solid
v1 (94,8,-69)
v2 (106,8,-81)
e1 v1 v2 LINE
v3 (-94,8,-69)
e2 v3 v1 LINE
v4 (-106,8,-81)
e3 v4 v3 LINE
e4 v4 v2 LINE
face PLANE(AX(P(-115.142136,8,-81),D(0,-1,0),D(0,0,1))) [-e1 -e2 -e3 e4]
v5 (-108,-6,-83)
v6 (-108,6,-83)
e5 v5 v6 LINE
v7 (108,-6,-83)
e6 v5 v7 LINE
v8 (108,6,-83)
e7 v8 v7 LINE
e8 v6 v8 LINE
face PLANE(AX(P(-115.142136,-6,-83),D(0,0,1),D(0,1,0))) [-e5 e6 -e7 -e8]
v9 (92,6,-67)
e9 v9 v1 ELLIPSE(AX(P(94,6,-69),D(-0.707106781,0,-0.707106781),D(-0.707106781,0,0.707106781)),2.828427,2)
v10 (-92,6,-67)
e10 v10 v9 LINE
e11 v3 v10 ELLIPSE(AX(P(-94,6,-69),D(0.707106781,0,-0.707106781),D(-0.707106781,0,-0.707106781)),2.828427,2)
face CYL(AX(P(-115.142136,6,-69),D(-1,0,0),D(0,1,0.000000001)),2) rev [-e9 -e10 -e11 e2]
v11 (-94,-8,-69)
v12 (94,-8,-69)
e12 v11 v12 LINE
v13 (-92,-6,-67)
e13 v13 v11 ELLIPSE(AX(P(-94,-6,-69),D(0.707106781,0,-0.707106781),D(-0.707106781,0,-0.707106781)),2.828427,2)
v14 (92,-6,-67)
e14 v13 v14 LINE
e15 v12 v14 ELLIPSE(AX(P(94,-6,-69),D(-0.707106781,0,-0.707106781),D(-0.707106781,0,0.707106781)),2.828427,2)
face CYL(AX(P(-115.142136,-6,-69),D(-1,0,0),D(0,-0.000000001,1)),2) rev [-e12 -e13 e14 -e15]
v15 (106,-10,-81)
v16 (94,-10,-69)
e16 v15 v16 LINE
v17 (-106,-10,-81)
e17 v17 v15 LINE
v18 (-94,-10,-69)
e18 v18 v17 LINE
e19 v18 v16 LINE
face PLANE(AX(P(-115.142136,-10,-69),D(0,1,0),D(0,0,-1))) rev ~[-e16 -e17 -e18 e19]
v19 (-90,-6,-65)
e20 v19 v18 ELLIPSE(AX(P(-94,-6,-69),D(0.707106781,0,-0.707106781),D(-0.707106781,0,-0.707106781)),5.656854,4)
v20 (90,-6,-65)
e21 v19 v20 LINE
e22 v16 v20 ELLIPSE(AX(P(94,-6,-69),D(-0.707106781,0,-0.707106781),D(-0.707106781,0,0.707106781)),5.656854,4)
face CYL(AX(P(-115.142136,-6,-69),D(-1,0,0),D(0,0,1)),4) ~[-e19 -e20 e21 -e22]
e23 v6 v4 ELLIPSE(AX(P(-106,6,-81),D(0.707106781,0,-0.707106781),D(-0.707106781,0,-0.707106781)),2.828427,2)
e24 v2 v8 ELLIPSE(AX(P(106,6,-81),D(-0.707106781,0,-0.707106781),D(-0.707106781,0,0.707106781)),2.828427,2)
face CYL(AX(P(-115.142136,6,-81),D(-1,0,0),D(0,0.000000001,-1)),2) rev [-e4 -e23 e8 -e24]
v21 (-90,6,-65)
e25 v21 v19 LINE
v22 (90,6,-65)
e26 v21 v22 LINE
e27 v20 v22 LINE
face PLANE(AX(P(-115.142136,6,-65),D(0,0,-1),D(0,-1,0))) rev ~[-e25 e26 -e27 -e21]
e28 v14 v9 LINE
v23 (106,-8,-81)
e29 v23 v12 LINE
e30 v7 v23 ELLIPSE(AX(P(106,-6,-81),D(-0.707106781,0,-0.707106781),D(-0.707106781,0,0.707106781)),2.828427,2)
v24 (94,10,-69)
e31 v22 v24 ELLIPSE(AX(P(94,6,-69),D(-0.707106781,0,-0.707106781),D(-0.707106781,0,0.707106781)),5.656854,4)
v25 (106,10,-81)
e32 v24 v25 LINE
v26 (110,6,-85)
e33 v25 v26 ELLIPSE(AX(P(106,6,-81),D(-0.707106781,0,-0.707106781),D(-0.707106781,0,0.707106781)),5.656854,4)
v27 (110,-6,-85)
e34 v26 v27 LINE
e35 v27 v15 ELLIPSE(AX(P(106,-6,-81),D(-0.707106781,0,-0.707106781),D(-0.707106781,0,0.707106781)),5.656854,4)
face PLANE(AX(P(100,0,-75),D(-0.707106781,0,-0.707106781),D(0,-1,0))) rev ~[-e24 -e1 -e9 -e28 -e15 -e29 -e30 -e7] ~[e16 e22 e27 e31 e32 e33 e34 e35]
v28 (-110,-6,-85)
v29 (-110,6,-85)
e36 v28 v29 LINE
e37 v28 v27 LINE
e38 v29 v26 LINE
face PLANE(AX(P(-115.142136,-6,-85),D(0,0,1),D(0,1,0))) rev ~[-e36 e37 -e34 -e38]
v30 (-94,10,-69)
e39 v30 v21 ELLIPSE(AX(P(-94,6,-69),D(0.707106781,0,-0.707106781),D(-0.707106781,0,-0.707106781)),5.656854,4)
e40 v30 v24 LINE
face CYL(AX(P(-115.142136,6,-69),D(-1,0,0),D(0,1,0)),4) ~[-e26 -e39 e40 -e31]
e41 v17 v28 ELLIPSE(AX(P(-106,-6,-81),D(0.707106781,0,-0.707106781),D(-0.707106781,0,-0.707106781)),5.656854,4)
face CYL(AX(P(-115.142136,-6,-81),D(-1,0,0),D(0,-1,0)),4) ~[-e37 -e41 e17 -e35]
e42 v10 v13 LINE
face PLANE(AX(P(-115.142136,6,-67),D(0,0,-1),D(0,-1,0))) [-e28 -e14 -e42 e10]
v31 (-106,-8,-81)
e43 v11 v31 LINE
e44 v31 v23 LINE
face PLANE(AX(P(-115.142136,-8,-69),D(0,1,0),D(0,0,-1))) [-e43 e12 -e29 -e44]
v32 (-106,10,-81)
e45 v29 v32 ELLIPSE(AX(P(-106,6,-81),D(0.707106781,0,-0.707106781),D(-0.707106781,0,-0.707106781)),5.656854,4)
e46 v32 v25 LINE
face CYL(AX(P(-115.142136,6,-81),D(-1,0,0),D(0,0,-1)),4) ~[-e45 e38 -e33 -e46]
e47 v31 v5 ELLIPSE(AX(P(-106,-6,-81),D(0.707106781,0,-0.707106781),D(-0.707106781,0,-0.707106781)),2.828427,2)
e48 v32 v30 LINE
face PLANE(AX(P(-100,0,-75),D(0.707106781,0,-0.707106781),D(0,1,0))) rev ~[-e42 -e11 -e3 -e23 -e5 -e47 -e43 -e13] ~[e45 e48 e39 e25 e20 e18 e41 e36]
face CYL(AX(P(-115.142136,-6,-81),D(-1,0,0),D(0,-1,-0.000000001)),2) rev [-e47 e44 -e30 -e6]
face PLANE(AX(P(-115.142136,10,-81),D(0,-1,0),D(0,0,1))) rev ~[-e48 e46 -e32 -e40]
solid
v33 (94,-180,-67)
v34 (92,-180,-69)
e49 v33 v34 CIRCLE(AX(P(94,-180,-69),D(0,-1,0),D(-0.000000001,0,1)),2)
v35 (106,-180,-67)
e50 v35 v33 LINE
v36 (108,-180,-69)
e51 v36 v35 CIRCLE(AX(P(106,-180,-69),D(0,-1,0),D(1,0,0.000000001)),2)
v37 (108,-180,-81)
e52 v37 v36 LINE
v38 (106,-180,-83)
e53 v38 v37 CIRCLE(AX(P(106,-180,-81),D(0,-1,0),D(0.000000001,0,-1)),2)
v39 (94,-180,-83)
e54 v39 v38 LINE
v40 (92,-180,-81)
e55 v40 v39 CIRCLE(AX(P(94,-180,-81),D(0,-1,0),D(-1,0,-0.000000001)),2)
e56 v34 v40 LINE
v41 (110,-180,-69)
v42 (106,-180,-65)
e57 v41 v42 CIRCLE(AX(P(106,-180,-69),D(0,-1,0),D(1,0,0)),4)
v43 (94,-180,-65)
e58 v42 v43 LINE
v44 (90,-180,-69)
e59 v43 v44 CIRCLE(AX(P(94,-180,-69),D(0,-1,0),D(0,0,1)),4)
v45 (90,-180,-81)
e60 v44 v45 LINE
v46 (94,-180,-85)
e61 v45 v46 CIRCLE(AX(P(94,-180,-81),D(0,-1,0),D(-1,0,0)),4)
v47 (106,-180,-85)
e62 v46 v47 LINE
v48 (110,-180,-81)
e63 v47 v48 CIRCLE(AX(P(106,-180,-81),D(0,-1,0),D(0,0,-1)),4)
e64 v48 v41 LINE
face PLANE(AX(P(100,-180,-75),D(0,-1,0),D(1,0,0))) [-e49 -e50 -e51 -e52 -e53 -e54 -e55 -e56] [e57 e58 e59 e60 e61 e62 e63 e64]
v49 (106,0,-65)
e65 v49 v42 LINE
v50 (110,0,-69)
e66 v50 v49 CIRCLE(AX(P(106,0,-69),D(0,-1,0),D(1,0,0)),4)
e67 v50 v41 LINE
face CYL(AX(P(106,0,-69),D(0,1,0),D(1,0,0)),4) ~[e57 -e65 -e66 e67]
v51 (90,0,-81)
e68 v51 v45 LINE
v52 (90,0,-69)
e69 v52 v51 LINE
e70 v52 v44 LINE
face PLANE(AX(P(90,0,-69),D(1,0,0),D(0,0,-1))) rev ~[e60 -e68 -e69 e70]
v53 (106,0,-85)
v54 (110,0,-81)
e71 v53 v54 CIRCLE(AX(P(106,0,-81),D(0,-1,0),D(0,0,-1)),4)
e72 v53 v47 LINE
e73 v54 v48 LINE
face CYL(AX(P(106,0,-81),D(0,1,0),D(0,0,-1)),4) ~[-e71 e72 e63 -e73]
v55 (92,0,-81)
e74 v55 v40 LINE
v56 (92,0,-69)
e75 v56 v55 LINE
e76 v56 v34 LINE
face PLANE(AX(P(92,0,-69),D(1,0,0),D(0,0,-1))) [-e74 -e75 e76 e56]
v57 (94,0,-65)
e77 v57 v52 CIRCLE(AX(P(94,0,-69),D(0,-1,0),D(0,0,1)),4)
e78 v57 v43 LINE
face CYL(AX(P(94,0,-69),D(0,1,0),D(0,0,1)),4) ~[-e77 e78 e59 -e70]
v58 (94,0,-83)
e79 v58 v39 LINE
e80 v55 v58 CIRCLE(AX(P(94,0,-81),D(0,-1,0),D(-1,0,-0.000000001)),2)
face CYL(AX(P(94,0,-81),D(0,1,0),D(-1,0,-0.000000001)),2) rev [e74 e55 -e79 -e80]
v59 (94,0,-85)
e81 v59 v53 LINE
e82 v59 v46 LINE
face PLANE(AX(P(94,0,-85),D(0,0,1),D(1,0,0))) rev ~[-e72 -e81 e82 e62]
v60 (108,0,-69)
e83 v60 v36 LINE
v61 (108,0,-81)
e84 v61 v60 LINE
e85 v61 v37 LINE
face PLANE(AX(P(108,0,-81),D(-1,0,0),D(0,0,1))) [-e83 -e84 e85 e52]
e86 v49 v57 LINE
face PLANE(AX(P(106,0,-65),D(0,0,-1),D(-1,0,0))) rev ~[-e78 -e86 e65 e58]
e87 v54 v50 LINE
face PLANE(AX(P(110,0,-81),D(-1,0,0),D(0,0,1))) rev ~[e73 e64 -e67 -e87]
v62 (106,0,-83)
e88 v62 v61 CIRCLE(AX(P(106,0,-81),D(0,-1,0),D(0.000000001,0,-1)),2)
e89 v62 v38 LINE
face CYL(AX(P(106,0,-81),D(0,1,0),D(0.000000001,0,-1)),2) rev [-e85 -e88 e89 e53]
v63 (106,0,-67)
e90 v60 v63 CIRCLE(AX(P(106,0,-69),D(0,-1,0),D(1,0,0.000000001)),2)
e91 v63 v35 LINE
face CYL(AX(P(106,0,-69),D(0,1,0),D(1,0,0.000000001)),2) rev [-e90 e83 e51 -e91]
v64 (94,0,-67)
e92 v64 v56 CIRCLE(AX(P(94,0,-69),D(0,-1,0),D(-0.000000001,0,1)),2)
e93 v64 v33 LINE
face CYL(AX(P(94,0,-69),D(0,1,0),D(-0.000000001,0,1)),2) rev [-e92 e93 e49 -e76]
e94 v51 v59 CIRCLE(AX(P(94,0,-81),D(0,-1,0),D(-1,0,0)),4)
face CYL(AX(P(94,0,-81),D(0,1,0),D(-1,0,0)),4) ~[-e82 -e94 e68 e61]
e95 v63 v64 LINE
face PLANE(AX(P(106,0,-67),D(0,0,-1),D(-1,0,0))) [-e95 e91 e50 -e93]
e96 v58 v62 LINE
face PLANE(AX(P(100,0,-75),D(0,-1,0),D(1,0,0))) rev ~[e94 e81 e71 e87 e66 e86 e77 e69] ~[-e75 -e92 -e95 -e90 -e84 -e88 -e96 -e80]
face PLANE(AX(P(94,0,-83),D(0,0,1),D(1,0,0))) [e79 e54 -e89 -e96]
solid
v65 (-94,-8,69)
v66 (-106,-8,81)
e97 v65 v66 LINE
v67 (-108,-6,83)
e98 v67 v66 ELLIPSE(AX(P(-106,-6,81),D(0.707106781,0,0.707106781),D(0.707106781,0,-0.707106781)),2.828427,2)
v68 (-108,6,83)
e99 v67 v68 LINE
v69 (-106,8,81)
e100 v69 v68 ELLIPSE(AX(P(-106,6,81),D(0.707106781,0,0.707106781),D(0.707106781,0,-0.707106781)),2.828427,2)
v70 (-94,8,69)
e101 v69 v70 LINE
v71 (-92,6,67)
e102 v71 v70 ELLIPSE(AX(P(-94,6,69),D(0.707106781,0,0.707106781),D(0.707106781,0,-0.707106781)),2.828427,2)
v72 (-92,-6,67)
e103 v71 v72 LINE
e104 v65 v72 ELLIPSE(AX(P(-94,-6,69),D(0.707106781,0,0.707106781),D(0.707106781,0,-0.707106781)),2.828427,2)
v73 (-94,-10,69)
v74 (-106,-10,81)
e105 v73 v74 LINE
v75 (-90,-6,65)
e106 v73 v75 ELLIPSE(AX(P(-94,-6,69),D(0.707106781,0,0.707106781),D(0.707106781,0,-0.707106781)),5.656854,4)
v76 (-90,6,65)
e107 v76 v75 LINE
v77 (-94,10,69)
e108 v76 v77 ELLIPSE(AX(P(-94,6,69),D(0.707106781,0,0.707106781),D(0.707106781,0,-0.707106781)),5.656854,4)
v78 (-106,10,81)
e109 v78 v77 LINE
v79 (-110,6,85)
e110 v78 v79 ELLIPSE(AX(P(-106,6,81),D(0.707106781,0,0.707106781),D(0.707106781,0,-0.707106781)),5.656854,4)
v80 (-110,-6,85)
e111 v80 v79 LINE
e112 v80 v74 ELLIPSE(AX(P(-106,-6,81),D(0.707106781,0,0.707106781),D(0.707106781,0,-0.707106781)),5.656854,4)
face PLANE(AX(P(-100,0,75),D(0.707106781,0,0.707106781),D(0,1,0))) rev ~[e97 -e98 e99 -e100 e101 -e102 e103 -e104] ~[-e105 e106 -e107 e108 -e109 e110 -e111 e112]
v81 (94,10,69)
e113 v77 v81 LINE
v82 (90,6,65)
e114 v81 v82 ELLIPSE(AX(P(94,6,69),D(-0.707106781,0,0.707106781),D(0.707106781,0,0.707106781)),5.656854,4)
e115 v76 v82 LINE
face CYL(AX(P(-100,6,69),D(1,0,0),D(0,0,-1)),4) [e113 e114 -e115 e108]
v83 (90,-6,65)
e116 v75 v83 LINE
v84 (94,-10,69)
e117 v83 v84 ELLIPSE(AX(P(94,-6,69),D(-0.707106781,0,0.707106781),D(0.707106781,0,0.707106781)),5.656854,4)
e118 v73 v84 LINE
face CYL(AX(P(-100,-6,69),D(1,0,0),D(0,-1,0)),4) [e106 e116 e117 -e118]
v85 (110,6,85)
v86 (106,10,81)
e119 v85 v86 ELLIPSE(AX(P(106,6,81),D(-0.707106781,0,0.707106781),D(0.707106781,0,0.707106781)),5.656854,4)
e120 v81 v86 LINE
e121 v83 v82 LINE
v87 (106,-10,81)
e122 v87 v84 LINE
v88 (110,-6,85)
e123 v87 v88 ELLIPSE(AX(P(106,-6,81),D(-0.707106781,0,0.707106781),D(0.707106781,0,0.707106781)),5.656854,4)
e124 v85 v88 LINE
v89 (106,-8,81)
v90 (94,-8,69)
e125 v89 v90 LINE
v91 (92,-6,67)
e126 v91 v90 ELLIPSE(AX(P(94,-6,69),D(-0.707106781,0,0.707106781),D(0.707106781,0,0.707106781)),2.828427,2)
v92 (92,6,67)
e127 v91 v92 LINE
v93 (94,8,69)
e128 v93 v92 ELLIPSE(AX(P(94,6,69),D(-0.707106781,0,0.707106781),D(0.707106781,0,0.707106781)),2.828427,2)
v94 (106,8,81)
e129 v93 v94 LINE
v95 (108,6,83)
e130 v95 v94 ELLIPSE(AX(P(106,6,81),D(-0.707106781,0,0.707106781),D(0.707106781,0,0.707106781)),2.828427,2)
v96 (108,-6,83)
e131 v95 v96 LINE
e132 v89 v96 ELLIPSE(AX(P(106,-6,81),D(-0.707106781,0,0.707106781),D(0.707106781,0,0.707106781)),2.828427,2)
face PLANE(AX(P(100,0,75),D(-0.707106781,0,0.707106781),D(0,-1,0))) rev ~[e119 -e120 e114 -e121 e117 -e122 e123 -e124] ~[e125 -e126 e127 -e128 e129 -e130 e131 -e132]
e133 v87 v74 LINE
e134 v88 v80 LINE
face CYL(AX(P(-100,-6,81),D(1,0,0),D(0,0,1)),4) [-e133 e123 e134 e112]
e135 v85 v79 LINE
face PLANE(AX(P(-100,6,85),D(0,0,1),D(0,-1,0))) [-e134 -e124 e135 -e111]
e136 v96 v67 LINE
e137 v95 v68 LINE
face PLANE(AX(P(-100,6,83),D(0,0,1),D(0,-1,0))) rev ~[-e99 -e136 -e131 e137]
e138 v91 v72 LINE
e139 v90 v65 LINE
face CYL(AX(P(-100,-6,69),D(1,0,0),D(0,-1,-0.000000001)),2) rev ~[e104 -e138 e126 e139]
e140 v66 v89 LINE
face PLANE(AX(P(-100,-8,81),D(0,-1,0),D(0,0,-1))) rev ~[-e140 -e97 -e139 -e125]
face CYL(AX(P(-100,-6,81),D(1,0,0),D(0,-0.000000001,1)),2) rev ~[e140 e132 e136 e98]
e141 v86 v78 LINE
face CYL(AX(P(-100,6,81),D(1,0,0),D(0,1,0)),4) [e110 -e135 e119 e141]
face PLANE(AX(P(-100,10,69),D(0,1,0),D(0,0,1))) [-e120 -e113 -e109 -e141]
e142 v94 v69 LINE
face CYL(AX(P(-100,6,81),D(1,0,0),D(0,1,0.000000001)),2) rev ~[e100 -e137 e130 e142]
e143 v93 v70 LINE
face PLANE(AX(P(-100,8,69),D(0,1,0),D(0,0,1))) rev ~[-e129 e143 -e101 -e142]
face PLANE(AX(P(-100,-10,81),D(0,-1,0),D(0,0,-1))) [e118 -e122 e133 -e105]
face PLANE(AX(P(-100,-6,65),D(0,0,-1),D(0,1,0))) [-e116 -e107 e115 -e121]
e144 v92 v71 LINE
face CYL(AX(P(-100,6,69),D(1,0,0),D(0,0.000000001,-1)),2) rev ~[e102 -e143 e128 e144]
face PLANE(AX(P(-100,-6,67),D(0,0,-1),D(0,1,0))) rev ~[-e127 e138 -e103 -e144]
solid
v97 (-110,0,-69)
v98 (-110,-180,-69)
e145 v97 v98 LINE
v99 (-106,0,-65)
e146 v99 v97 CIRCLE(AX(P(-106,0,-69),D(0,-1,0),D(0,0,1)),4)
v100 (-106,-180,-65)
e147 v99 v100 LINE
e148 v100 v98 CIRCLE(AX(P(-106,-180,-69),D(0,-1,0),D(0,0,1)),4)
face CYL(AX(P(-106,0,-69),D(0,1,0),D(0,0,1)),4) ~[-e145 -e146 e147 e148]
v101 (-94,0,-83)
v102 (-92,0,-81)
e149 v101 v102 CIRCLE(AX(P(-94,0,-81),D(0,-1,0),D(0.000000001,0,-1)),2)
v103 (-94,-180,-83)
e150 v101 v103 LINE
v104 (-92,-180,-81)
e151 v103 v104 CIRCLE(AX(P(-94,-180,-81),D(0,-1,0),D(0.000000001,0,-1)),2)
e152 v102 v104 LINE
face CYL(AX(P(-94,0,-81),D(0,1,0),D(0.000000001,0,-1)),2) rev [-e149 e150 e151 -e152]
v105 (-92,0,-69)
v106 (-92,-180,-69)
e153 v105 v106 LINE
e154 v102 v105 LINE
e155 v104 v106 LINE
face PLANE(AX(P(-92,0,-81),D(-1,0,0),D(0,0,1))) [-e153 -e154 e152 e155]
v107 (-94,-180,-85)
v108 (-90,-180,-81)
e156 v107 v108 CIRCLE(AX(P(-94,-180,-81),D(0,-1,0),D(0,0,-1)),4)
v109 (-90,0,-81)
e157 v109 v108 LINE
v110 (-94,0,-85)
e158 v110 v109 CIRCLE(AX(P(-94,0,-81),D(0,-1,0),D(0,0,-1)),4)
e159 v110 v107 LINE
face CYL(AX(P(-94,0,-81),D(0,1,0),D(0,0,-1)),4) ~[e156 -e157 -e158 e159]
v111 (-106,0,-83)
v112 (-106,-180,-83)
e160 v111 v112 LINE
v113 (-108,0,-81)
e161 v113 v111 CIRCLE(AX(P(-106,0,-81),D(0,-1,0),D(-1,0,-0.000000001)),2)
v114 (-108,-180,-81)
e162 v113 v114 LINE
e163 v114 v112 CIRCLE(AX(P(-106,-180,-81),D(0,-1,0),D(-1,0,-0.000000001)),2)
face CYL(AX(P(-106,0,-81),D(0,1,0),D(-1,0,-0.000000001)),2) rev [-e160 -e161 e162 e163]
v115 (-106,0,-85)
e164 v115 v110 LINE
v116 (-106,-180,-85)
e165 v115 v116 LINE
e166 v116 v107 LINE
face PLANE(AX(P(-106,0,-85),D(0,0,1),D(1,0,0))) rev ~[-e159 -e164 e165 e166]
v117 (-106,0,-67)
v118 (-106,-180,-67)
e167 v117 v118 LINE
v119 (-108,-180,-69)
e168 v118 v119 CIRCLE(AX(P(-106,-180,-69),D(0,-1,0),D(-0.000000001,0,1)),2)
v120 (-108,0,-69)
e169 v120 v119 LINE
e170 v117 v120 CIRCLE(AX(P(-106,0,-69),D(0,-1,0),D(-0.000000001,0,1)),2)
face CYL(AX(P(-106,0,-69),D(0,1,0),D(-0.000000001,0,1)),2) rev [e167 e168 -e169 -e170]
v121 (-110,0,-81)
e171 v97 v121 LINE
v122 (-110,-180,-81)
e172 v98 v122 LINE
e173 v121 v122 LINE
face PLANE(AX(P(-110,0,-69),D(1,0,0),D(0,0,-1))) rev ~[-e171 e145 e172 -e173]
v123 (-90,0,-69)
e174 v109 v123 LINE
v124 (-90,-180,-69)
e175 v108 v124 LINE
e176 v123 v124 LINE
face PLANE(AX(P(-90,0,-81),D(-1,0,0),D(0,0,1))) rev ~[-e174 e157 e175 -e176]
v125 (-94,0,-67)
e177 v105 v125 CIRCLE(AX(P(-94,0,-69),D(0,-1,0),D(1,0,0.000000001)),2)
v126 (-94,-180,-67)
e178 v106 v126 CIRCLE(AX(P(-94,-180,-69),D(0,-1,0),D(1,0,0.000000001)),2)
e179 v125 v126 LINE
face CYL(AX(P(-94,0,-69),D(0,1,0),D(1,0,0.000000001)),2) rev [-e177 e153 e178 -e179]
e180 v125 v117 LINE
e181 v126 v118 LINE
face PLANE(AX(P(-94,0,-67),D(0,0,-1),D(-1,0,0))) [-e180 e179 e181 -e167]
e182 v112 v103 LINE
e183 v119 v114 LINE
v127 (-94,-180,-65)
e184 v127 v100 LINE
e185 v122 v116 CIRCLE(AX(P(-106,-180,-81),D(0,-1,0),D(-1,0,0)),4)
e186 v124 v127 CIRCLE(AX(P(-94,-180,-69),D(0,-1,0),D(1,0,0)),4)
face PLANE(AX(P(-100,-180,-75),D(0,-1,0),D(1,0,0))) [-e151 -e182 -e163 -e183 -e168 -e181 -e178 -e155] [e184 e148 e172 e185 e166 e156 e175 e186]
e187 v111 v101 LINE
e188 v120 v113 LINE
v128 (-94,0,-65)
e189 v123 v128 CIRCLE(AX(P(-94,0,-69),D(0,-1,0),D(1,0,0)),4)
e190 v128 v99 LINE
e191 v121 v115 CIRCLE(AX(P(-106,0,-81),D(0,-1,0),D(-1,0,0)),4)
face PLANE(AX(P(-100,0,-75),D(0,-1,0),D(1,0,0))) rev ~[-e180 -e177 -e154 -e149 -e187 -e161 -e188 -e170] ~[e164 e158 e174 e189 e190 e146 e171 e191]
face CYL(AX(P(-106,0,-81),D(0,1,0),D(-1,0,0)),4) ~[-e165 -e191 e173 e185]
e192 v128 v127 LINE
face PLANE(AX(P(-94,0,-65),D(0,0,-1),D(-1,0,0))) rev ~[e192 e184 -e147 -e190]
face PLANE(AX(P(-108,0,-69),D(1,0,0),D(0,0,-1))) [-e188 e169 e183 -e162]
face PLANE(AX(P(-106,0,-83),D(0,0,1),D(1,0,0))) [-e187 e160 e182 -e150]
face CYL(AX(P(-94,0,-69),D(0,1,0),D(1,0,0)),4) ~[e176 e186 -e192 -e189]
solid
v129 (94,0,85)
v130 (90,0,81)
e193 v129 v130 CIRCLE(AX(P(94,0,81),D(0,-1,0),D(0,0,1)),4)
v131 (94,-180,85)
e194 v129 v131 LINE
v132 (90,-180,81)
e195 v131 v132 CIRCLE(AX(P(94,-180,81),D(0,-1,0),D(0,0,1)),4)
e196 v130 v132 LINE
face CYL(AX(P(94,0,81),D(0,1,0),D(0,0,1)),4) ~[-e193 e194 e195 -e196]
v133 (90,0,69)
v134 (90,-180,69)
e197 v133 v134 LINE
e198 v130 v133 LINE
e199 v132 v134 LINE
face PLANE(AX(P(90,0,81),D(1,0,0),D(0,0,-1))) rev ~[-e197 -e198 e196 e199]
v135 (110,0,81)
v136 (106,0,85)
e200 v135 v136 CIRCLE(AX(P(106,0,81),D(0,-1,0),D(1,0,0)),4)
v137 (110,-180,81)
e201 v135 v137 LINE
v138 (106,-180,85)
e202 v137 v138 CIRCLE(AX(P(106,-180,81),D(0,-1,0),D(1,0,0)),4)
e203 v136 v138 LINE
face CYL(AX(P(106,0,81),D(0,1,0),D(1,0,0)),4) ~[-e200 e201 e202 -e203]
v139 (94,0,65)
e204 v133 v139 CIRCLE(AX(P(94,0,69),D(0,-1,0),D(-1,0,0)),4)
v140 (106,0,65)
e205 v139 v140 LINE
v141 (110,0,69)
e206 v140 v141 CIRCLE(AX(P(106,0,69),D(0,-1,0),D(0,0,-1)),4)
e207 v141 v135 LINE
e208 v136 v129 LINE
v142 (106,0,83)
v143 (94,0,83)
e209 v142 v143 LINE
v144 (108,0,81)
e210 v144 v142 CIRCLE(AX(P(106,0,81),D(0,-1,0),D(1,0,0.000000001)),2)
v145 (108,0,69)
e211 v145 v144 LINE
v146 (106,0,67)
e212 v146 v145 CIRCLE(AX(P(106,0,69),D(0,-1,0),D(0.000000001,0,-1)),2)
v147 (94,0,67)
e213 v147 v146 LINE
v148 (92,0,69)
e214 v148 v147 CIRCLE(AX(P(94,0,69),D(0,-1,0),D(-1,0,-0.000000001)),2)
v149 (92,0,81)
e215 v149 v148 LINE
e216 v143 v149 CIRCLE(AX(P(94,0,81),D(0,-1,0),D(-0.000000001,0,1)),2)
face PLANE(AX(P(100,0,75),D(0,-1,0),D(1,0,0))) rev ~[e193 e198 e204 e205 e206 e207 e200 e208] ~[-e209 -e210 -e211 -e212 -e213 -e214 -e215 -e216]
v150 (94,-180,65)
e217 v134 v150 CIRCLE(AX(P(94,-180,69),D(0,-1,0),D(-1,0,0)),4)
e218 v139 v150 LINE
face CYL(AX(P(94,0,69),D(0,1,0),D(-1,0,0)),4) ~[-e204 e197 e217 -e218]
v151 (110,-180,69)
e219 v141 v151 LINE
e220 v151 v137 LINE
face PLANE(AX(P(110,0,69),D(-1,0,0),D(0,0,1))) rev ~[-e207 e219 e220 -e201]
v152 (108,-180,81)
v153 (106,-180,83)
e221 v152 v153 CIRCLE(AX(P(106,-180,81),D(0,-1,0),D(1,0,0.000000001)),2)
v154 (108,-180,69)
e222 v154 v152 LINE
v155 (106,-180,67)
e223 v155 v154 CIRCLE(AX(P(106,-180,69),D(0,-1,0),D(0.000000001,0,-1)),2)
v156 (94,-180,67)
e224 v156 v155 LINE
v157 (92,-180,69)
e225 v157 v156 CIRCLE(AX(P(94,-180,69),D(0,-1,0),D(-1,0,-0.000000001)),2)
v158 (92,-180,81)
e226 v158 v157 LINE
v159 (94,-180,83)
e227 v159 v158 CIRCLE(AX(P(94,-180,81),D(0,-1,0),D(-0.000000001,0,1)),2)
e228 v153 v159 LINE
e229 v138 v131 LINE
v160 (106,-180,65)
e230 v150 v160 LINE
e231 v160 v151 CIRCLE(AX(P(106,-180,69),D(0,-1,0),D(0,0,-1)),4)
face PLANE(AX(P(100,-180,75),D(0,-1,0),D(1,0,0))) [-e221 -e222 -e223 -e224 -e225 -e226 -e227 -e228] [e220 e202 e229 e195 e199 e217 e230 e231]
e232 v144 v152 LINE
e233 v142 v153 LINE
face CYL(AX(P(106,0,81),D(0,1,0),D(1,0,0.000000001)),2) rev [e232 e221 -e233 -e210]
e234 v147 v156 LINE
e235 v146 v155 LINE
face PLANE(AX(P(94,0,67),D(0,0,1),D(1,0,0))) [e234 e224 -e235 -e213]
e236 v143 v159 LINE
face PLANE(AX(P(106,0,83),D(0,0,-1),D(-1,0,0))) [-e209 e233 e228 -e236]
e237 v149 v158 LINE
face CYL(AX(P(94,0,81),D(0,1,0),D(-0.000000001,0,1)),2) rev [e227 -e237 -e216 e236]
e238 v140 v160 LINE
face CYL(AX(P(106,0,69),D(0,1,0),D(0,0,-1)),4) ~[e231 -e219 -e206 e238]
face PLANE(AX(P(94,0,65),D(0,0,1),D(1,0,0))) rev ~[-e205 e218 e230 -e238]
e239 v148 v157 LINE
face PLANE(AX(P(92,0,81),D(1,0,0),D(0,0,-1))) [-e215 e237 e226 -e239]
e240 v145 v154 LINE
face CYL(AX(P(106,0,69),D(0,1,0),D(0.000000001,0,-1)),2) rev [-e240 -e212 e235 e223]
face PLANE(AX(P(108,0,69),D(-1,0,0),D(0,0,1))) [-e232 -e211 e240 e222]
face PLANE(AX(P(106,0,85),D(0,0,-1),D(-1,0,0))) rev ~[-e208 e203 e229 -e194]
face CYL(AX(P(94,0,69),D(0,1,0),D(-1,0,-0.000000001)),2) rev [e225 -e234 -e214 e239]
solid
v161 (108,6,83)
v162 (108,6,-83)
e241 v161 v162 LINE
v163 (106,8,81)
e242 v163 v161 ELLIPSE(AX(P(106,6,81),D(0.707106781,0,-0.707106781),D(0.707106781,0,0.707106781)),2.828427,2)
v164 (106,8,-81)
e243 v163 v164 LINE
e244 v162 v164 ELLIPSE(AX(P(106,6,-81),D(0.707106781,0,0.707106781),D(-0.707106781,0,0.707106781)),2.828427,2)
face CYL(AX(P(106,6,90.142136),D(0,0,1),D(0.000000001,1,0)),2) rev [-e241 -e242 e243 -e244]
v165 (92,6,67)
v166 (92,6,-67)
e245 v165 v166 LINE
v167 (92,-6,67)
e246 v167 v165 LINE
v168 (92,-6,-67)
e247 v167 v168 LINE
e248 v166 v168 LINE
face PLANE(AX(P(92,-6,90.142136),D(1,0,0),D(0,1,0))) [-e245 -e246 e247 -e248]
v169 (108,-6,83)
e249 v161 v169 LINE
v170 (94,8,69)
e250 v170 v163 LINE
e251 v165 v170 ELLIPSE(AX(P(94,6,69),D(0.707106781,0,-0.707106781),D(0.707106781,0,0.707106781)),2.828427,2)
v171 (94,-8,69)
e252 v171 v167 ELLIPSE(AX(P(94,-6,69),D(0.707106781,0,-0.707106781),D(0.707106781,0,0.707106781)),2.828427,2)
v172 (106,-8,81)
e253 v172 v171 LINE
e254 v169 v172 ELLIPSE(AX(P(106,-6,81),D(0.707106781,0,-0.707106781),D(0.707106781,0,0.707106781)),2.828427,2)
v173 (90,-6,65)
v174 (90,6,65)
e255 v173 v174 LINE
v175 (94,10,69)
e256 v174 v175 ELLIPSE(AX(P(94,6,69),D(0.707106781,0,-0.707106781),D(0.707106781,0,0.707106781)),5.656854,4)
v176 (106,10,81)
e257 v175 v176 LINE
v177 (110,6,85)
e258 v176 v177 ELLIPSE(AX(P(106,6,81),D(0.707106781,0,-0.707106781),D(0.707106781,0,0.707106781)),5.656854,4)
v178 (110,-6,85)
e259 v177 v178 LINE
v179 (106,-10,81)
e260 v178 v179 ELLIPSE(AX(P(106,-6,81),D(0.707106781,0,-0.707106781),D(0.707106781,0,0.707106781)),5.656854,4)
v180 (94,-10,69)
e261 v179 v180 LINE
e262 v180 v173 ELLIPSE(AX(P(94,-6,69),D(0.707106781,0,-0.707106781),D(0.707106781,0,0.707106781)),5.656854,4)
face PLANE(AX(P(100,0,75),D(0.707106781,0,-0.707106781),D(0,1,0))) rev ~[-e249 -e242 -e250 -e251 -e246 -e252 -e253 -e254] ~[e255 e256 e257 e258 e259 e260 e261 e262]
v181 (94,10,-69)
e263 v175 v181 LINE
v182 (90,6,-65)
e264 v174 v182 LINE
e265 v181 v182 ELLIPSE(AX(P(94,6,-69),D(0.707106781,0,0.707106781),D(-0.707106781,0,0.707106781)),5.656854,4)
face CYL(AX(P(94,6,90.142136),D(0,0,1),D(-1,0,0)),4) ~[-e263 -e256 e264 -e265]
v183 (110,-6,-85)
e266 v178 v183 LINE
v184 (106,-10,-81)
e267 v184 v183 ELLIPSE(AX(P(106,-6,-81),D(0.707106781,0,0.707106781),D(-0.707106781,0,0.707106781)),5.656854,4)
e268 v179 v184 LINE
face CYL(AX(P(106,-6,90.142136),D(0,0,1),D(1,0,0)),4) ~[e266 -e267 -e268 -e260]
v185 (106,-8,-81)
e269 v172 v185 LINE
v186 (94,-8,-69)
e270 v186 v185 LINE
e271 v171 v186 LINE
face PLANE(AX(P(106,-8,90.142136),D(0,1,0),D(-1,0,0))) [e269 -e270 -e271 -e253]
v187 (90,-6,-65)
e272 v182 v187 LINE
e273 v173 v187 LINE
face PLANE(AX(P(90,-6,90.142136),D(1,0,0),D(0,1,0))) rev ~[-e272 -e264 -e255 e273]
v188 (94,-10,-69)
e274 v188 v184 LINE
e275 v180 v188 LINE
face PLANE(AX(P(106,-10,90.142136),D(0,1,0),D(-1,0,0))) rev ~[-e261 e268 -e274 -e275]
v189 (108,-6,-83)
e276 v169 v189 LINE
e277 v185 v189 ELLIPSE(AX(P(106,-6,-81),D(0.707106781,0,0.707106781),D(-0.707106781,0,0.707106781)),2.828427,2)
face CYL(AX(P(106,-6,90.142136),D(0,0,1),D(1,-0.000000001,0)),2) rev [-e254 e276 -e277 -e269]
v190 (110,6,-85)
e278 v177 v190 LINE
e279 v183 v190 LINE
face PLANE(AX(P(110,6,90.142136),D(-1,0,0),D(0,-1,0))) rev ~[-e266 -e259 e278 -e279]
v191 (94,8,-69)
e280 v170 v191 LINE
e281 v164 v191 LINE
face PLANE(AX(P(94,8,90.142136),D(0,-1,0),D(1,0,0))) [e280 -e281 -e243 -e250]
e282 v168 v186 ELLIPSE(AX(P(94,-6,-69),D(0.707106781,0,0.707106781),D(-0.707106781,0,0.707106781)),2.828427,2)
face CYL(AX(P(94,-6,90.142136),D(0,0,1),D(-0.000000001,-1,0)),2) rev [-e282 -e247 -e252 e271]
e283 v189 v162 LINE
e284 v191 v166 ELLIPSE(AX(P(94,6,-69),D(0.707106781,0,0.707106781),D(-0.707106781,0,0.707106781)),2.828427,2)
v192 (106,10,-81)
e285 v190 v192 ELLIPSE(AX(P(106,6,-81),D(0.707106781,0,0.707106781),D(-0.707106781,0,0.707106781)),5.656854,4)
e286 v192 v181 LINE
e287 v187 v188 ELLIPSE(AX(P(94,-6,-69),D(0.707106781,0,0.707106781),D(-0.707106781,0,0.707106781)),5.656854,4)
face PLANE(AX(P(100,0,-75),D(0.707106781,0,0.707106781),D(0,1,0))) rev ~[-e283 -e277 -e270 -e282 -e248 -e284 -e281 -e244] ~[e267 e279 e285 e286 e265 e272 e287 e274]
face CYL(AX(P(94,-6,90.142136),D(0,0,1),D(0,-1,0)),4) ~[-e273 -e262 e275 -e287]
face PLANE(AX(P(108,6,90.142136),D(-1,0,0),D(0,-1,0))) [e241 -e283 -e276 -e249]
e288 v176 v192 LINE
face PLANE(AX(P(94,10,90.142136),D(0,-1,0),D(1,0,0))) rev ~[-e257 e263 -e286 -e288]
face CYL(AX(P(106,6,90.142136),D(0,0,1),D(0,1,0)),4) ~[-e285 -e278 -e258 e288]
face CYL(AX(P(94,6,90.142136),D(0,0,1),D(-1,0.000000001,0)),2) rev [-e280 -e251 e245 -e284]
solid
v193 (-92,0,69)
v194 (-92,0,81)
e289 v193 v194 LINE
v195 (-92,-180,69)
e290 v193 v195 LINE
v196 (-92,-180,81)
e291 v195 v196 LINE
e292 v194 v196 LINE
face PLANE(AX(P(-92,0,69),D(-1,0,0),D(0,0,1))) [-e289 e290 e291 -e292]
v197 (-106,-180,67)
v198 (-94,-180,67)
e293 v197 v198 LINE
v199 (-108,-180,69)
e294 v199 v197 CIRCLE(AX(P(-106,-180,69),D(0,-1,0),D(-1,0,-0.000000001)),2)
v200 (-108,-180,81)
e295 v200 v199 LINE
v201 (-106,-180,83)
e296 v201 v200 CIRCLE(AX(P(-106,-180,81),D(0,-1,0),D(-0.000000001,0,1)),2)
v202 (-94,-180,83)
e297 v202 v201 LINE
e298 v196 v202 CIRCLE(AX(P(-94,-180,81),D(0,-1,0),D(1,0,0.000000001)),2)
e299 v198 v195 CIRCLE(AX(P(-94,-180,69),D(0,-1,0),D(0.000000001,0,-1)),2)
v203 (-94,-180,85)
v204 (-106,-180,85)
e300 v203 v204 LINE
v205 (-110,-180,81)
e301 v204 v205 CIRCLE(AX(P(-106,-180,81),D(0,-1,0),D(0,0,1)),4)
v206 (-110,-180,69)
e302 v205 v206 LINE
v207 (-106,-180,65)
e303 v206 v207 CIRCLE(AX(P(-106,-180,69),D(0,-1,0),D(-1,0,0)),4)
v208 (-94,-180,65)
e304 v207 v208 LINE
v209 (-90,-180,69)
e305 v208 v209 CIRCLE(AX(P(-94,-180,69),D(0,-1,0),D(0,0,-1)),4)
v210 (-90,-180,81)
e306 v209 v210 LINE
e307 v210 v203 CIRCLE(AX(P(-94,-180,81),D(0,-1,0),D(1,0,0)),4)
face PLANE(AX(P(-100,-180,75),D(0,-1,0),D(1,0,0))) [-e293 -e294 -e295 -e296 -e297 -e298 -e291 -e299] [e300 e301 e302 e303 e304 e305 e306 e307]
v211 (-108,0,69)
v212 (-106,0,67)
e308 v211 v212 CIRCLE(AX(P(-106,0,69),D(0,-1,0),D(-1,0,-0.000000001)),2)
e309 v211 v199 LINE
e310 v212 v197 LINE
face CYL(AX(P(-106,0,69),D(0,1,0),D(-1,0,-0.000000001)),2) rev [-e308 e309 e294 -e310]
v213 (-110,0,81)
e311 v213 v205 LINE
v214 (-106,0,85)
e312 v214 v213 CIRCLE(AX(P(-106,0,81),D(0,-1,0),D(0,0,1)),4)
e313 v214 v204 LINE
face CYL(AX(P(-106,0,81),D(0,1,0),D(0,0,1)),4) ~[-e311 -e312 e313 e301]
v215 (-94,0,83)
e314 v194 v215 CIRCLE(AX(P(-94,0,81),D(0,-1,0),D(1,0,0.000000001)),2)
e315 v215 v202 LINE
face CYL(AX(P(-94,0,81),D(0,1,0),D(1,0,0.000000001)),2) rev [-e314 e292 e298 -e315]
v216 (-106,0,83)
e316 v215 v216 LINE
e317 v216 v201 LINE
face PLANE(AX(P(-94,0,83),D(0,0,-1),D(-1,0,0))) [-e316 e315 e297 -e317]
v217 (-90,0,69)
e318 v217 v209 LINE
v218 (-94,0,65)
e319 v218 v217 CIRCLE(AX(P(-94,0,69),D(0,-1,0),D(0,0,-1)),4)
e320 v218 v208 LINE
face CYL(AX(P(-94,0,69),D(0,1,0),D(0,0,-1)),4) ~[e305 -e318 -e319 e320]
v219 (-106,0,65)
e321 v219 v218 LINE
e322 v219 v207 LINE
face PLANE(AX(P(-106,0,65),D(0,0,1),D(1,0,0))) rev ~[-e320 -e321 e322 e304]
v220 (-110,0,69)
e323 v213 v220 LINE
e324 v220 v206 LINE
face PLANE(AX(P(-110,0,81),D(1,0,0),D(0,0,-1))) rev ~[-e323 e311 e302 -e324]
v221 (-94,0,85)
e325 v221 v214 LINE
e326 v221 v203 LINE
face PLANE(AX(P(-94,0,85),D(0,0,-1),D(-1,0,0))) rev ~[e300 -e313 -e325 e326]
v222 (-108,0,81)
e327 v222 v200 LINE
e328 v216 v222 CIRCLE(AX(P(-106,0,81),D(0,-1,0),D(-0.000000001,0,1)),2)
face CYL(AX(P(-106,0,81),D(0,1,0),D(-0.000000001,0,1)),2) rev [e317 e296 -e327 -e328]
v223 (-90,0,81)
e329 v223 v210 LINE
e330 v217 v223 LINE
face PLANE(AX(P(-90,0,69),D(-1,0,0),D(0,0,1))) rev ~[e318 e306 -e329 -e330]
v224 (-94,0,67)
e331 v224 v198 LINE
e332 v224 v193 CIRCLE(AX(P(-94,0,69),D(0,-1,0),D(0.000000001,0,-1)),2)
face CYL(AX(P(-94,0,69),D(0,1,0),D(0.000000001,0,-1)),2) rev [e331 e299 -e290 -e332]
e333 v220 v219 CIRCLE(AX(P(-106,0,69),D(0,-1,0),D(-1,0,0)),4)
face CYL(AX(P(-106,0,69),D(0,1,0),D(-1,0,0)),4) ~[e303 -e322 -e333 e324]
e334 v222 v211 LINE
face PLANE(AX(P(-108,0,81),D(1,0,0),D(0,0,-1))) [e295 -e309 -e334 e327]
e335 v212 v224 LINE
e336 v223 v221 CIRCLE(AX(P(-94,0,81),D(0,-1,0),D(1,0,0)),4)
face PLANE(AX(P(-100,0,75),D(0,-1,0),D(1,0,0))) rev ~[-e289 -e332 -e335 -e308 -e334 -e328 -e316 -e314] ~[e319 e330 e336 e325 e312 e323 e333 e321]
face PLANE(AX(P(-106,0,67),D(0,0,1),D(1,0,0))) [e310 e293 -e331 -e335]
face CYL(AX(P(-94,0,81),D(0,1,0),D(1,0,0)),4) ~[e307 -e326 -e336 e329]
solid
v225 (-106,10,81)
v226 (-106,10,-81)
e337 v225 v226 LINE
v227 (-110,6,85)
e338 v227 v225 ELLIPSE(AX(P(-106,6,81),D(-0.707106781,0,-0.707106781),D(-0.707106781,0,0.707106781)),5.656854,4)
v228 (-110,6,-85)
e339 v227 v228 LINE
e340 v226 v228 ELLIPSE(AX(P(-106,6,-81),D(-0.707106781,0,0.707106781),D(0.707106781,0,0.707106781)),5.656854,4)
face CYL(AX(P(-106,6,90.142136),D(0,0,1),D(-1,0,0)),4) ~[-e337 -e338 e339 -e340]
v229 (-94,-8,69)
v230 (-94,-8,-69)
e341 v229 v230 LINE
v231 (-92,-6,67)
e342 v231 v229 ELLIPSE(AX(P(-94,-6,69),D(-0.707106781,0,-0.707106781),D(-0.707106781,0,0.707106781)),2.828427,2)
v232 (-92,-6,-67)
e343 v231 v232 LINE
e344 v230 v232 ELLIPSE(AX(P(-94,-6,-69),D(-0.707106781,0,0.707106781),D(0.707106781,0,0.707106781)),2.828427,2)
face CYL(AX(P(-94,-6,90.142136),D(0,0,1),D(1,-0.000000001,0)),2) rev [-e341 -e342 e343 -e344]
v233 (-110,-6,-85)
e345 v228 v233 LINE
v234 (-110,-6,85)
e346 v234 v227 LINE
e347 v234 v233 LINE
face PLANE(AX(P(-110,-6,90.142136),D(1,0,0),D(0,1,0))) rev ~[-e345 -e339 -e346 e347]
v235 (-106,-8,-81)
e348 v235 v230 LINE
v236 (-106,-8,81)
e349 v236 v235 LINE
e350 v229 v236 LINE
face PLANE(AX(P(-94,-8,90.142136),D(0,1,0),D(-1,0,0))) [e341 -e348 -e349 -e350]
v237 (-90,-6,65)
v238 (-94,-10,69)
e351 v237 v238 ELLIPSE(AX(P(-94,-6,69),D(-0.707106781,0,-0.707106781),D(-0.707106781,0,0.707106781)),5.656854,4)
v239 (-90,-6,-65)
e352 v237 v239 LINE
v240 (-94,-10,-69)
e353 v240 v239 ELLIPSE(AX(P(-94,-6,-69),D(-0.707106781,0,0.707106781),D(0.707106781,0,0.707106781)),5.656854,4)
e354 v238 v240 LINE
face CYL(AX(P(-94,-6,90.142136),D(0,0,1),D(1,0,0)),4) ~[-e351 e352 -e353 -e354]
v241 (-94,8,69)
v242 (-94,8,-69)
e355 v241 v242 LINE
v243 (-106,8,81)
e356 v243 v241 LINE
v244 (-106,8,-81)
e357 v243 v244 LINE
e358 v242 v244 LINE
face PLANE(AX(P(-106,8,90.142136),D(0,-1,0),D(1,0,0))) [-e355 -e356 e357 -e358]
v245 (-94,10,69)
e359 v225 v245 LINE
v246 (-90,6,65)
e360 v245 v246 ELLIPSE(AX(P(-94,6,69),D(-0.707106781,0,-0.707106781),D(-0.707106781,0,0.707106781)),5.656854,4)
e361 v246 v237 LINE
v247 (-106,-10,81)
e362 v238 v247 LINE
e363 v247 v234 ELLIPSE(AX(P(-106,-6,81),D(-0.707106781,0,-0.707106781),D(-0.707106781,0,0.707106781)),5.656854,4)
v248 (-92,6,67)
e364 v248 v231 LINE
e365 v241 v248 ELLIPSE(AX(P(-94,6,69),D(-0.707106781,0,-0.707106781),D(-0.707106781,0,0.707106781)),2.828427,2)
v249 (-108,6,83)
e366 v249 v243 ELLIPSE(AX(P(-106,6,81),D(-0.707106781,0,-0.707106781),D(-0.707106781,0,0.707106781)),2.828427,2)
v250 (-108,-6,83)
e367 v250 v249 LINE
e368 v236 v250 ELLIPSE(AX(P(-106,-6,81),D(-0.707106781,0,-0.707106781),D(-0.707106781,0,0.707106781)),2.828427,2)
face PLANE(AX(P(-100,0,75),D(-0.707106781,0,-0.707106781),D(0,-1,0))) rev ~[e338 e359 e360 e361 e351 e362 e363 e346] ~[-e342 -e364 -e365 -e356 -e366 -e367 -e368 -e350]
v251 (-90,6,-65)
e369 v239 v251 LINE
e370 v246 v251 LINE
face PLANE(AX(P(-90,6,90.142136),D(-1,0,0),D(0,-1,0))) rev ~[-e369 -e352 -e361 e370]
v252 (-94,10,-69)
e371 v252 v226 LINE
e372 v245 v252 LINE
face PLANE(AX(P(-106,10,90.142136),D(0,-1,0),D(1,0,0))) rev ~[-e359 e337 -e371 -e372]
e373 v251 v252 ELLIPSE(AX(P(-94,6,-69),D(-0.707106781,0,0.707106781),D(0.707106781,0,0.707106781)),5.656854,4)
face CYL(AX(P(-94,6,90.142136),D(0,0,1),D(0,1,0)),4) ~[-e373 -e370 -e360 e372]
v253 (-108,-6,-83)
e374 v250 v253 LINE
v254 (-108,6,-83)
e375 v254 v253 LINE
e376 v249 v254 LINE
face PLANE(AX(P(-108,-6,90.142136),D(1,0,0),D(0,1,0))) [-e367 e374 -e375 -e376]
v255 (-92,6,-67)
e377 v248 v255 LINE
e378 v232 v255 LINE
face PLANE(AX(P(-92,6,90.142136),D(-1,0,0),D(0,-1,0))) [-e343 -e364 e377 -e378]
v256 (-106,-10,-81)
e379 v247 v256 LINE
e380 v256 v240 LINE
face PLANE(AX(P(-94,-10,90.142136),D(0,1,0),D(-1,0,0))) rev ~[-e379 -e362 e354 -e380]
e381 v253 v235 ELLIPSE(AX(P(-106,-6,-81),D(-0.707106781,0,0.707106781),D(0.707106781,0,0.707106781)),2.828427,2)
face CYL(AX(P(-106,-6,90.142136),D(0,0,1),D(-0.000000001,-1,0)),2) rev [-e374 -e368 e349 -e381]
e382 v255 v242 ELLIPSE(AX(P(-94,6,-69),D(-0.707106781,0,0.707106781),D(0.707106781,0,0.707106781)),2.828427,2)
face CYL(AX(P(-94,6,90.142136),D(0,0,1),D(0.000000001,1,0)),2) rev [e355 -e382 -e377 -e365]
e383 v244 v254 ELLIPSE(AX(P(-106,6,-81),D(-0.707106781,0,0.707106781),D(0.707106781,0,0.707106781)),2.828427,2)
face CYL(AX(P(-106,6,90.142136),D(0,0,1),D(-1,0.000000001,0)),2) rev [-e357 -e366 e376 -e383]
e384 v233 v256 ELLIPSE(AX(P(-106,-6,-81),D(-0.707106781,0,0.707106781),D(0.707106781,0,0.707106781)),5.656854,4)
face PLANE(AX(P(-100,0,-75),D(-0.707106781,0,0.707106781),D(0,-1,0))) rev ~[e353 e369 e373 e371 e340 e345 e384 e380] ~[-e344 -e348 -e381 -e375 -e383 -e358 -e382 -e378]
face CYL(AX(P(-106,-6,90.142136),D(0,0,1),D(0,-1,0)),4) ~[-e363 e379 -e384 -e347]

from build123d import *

# Parameters (mm, degrees)
STRUCTURAL_MEMBER1_DEPTH      = 215.142135624
STRUCTURAL_MEMBER1_DEPTH_BACK = 15.142135624
STRUCTURAL_MEMBER1_2_DEPTH    = 180.284271247
STRUCTURAL_MEMBER1_3_DEPTH    = 230.284271247
STRUCTURAL_MEMBER1_4_DEPTH    = 180.284271247
STRUCTURAL_MEMBER2_DEPTH      = 180
STRUCTURAL_MEMBER2_2_DEPTH    = 180
STRUCTURAL_MEMBER2_3_DEPTH    = 180
STRUCTURAL_MEMBER2_4_DEPTH    = 180


with BuildPart() as part:
    # Sketch1 → Structural Member1 (new body, two sides)
    with BuildSketch(Plane(origin=(-100, 0, 75), x_dir=(0, 0, -1), z_dir=(1, 0, 0))) as structural_member1_sk:
        with BuildLine():
            Line((-6, -10), (6, -10))
            ThreePointArc((6, -10), (8.828427125, -8.828427125), (10, -6))
            Line((10, -6), (10, 6))
            ThreePointArc((10, 6), (8.828427125, 8.828427125), (6, 10))
            Line((6, 10), (-6, 10))
            ThreePointArc((-6, 10), (-8.828427125, 8.828427125), (-10, 6))
            Line((-10, 6), (-10, -6))
            ThreePointArc((-10, -6), (-8.828427125, -8.828427125), (-6, -10))
        make_face()
        with BuildLine():
            Line((-6, -8), (6, -8))
            ThreePointArc((6, -8), (7.414213562, -7.414213562), (8, -6))
            Line((8, -6), (8, 6))
            ThreePointArc((8, 6), (7.414213562, 7.414213562), (6, 8))
            Line((6, 8), (-6, 8))
            ThreePointArc((-6, 8), (-7.414213562, 7.414213562), (-8, 6))
            Line((-8, 6), (-8, -6))
            ThreePointArc((-8, -6), (-7.414213562, -7.414213562), (-6, -8))
        make_face(mode=Mode.SUBTRACT)
    extrude(amount=STRUCTURAL_MEMBER1_DEPTH)
    extrude(structural_member1_sk.sketch, amount=-STRUCTURAL_MEMBER1_DEPTH_BACK)

    # Structural Member1 mitre 1
    split(bisect_by=Plane(origin=(-100, 0, 75), x_dir=(0, 1, 0), z_dir=(0.707106781, 0, 0.707106781)), keep=Keep.TOP)

    # Structural Member1 mitre 2
    split(bisect_by=Plane(origin=(100, 0, 75), x_dir=(0, -1, 0), z_dir=(-0.707106781, 0, 0.707106781)), keep=Keep.TOP)


with BuildPart() as body_2:
    # Sketch1 on segment 2 (carried to segment 2) → Structural Member1 2 (new body)
    with BuildSketch(Plane(origin=(100, 0, 90.142135624), x_dir=(-1, 0, 0), z_dir=(0, 0, -1))):
        with BuildLine():
            Line((-6, -10), (6, -10))
            ThreePointArc((6, -10), (8.828427125, -8.828427125), (10, -6))
            Line((10, -6), (10, 6))
            ThreePointArc((10, 6), (8.828427125, 8.828427125), (6, 10))
            Line((6, 10), (-6, 10))
            ThreePointArc((-6, 10), (-8.828427125, 8.828427125), (-10, 6))
            Line((-10, 6), (-10, -6))
            ThreePointArc((-10, -6), (-8.828427125, -8.828427125), (-6, -10))
        make_face()
        with BuildLine():
            Line((-6, -8), (6, -8))
            ThreePointArc((6, -8), (7.414213562, -7.414213562), (8, -6))
            Line((8, -6), (8, 6))
            ThreePointArc((8, 6), (7.414213562, 7.414213562), (6, 8))
            Line((6, 8), (-6, 8))
            ThreePointArc((-6, 8), (-7.414213562, 7.414213562), (-8, 6))
            Line((-8, 6), (-8, -6))
            ThreePointArc((-8, -6), (-7.414213562, -7.414213562), (-6, -8))
        make_face(mode=Mode.SUBTRACT)
    extrude(amount=STRUCTURAL_MEMBER1_2_DEPTH)

    # Structural Member1 2 mitre 1
    split(bisect_by=Plane(origin=(100, 0, 75), x_dir=(0, 1, 0), z_dir=(0.707106781, 0, -0.707106781)), keep=Keep.TOP)

    # Structural Member1 2 mitre 2
    split(bisect_by=Plane(origin=(100, 0, -75), x_dir=(0, 1, 0), z_dir=(0.707106781, 0, 0.707106781)), keep=Keep.TOP)


with BuildPart() as body_3:
    # Sketch1 on segment 3 (carried to segment 3) → Structural Member1 3 (new body)
    with BuildSketch(Plane(origin=(-115.142135624, 0, -75), x_dir=(0, 0, -1), z_dir=(1, 0, 0))):
        with BuildLine():
            Line((-6, -10), (6, -10))
            ThreePointArc((6, -10), (8.828427125, -8.828427125), (10, -6))
            Line((10, -6), (10, 6))
            ThreePointArc((10, 6), (8.828427125, 8.828427125), (6, 10))
            Line((6, 10), (-6, 10))
            ThreePointArc((-6, 10), (-8.828427125, 8.828427125), (-10, 6))
            Line((-10, 6), (-10, -6))
            ThreePointArc((-10, -6), (-8.828427125, -8.828427125), (-6, -10))
        make_face()
        with BuildLine():
            Line((-6, -8), (6, -8))
            ThreePointArc((6, -8), (7.414213562, -7.414213562), (8, -6))
            Line((8, -6), (8, 6))
            ThreePointArc((8, 6), (7.414213562, 7.414213562), (6, 8))
            Line((6, 8), (-6, 8))
            ThreePointArc((-6, 8), (-7.414213562, 7.414213562), (-8, 6))
            Line((-8, 6), (-8, -6))
            ThreePointArc((-8, -6), (-7.414213562, -7.414213562), (-6, -8))
        make_face(mode=Mode.SUBTRACT)
    extrude(amount=STRUCTURAL_MEMBER1_3_DEPTH)

    # Structural Member1 3 mitre 1
    split(bisect_by=Plane(origin=(-100, 0, -75), x_dir=(0, 1, 0), z_dir=(0.707106781, 0, -0.707106781)), keep=Keep.TOP)

    # Structural Member1 3 mitre 2
    split(bisect_by=Plane(origin=(100, 0, -75), x_dir=(0, -1, 0), z_dir=(-0.707106781, 0, -0.707106781)), keep=Keep.TOP)


with BuildPart() as body_4:
    # Sketch1 on segment 4 (carried to segment 4) → Structural Member1 4 (new body)
    with BuildSketch(Plane(origin=(-100, 0, 90.142135624), x_dir=(-1, 0, 0), z_dir=(0, 0, -1))):
        with BuildLine():
            Line((-6, -10), (6, -10))
            ThreePointArc((6, -10), (8.828427125, -8.828427125), (10, -6))
            Line((10, -6), (10, 6))
            ThreePointArc((10, 6), (8.828427125, 8.828427125), (6, 10))
            Line((6, 10), (-6, 10))
            ThreePointArc((-6, 10), (-8.828427125, 8.828427125), (-10, 6))
            Line((-10, 6), (-10, -6))
            ThreePointArc((-10, -6), (-8.828427125, -8.828427125), (-6, -10))
        make_face()
        with BuildLine():
            Line((-6, -8), (6, -8))
            ThreePointArc((6, -8), (7.414213562, -7.414213562), (8, -6))
            Line((8, -6), (8, 6))
            ThreePointArc((8, 6), (7.414213562, 7.414213562), (6, 8))
            Line((6, 8), (-6, 8))
            ThreePointArc((-6, 8), (-7.414213562, 7.414213562), (-8, 6))
            Line((-8, 6), (-8, -6))
            ThreePointArc((-8, -6), (-7.414213562, -7.414213562), (-6, -8))
        make_face(mode=Mode.SUBTRACT)
    extrude(amount=STRUCTURAL_MEMBER1_4_DEPTH)

    # Structural Member1 4 mitre 1
    split(bisect_by=Plane(origin=(-100, 0, 75), x_dir=(0, -1, 0), z_dir=(-0.707106781, 0, -0.707106781)), keep=Keep.TOP)

    # Structural Member1 4 mitre 2
    split(bisect_by=Plane(origin=(-100, 0, -75), x_dir=(0, -1, 0), z_dir=(-0.707106781, 0, 0.707106781)), keep=Keep.TOP)


with BuildPart() as body_5:
    # Sketch17 → Structural Member2 (new body)
    with BuildSketch(Plane(origin=(-100, 0, 75), x_dir=(1, 0, 0), z_dir=(0, -1, 0))):
        with BuildLine():
            Line((-6, -10), (6, -10))
            ThreePointArc((6, -10), (8.828427125, -8.828427125), (10, -6))
            Line((10, -6), (10, 6))
            ThreePointArc((10, 6), (8.828427125, 8.828427125), (6, 10))
            Line((6, 10), (-6, 10))
            ThreePointArc((-6, 10), (-8.828427125, 8.828427125), (-10, 6))
            Line((-10, 6), (-10, -6))
            ThreePointArc((-10, -6), (-8.828427125, -8.828427125), (-6, -10))
        make_face()
        with BuildLine():
            Line((-6, -8), (6, -8))
            ThreePointArc((6, -8), (7.414213562, -7.414213562), (8, -6))
            Line((8, -6), (8, 6))
            ThreePointArc((8, 6), (7.414213562, 7.414213562), (6, 8))
            Line((6, 8), (-6, 8))
            ThreePointArc((-6, 8), (-7.414213562, 7.414213562), (-8, 6))
            Line((-8, 6), (-8, -6))
            ThreePointArc((-8, -6), (-7.414213562, -7.414213562), (-6, -8))
        make_face(mode=Mode.SUBTRACT)
    extrude(amount=STRUCTURAL_MEMBER2_DEPTH)


with BuildPart() as body_6:
    # Sketch17 on segment 2 (carried to segment 2) → Structural Member2 2 (new body)
    with BuildSketch(Plane(origin=(100, 0, 75), x_dir=(1, 0, 0), z_dir=(0, -1, 0))):
        with BuildLine():
            Line((-6, -10), (6, -10))
            ThreePointArc((6, -10), (8.828427125, -8.828427125), (10, -6))
            Line((10, -6), (10, 6))
            ThreePointArc((10, 6), (8.828427125, 8.828427125), (6, 10))
            Line((6, 10), (-6, 10))
            ThreePointArc((-6, 10), (-8.828427125, 8.828427125), (-10, 6))
            Line((-10, 6), (-10, -6))
            ThreePointArc((-10, -6), (-8.828427125, -8.828427125), (-6, -10))
        make_face()
        with BuildLine():
            Line((-6, -8), (6, -8))
            ThreePointArc((6, -8), (7.414213562, -7.414213562), (8, -6))
            Line((8, -6), (8, 6))
            ThreePointArc((8, 6), (7.414213562, 7.414213562), (6, 8))
            Line((6, 8), (-6, 8))
            ThreePointArc((-6, 8), (-7.414213562, 7.414213562), (-8, 6))
            Line((-8, 6), (-8, -6))
            ThreePointArc((-8, -6), (-7.414213562, -7.414213562), (-6, -8))
        make_face(mode=Mode.SUBTRACT)
    extrude(amount=STRUCTURAL_MEMBER2_2_DEPTH)


with BuildPart() as body_7:
    # Sketch17 on segment 3 (carried to segment 3) → Structural Member2 3 (new body)
    with BuildSketch(Plane(origin=(-100, 0, -75), x_dir=(1, 0, 0), z_dir=(0, -1, 0))):
        with BuildLine():
            Line((-6, -10), (6, -10))
            ThreePointArc((6, -10), (8.828427125, -8.828427125), (10, -6))
            Line((10, -6), (10, 6))
            ThreePointArc((10, 6), (8.828427125, 8.828427125), (6, 10))
            Line((6, 10), (-6, 10))
            ThreePointArc((-6, 10), (-8.828427125, 8.828427125), (-10, 6))
            Line((-10, 6), (-10, -6))
            ThreePointArc((-10, -6), (-8.828427125, -8.828427125), (-6, -10))
        make_face()
        with BuildLine():
            Line((-6, -8), (6, -8))
            ThreePointArc((6, -8), (7.414213562, -7.414213562), (8, -6))
            Line((8, -6), (8, 6))
            ThreePointArc((8, 6), (7.414213562, 7.414213562), (6, 8))
            Line((6, 8), (-6, 8))
            ThreePointArc((-6, 8), (-7.414213562, 7.414213562), (-8, 6))
            Line((-8, 6), (-8, -6))
            ThreePointArc((-8, -6), (-7.414213562, -7.414213562), (-6, -8))
        make_face(mode=Mode.SUBTRACT)
    extrude(amount=STRUCTURAL_MEMBER2_3_DEPTH)


with BuildPart() as body_8:
    # Sketch17 on segment 4 (carried to segment 4) → Structural Member2 4 (new body)
    with BuildSketch(Plane(origin=(100, 0, -75), x_dir=(1, 0, 0), z_dir=(0, -1, 0))):
        with BuildLine():
            Line((-6, -10), (6, -10))
            ThreePointArc((6, -10), (8.828427125, -8.828427125), (10, -6))
            Line((10, -6), (10, 6))
            ThreePointArc((10, 6), (8.828427125, 8.828427125), (6, 10))
            Line((6, 10), (-6, 10))
            ThreePointArc((-6, 10), (-8.828427125, 8.828427125), (-10, 6))
            Line((-10, 6), (-10, -6))
            ThreePointArc((-10, -6), (-8.828427125, -8.828427125), (-6, -10))
        make_face()
        with BuildLine():
            Line((-6, -8), (6, -8))
            ThreePointArc((6, -8), (7.414213562, -7.414213562), (8, -6))
            Line((8, -6), (8, 6))
            ThreePointArc((8, 6), (7.414213562, 7.414213562), (6, 8))
            Line((6, 8), (-6, 8))
            ThreePointArc((-6, 8), (-7.414213562, 7.414213562), (-8, 6))
            Line((-8, 6), (-8, -6))
            ThreePointArc((-8, -6), (-7.414213562, -7.414213562), (-6, -8))
        make_face(mode=Mode.SUBTRACT)
    extrude(amount=STRUCTURAL_MEMBER2_4_DEPTH)


solid = Compound([part.part, body_2.part, body_3.part, body_4.part, body_5.part, body_6.part, body_7.part, body_8.part])
